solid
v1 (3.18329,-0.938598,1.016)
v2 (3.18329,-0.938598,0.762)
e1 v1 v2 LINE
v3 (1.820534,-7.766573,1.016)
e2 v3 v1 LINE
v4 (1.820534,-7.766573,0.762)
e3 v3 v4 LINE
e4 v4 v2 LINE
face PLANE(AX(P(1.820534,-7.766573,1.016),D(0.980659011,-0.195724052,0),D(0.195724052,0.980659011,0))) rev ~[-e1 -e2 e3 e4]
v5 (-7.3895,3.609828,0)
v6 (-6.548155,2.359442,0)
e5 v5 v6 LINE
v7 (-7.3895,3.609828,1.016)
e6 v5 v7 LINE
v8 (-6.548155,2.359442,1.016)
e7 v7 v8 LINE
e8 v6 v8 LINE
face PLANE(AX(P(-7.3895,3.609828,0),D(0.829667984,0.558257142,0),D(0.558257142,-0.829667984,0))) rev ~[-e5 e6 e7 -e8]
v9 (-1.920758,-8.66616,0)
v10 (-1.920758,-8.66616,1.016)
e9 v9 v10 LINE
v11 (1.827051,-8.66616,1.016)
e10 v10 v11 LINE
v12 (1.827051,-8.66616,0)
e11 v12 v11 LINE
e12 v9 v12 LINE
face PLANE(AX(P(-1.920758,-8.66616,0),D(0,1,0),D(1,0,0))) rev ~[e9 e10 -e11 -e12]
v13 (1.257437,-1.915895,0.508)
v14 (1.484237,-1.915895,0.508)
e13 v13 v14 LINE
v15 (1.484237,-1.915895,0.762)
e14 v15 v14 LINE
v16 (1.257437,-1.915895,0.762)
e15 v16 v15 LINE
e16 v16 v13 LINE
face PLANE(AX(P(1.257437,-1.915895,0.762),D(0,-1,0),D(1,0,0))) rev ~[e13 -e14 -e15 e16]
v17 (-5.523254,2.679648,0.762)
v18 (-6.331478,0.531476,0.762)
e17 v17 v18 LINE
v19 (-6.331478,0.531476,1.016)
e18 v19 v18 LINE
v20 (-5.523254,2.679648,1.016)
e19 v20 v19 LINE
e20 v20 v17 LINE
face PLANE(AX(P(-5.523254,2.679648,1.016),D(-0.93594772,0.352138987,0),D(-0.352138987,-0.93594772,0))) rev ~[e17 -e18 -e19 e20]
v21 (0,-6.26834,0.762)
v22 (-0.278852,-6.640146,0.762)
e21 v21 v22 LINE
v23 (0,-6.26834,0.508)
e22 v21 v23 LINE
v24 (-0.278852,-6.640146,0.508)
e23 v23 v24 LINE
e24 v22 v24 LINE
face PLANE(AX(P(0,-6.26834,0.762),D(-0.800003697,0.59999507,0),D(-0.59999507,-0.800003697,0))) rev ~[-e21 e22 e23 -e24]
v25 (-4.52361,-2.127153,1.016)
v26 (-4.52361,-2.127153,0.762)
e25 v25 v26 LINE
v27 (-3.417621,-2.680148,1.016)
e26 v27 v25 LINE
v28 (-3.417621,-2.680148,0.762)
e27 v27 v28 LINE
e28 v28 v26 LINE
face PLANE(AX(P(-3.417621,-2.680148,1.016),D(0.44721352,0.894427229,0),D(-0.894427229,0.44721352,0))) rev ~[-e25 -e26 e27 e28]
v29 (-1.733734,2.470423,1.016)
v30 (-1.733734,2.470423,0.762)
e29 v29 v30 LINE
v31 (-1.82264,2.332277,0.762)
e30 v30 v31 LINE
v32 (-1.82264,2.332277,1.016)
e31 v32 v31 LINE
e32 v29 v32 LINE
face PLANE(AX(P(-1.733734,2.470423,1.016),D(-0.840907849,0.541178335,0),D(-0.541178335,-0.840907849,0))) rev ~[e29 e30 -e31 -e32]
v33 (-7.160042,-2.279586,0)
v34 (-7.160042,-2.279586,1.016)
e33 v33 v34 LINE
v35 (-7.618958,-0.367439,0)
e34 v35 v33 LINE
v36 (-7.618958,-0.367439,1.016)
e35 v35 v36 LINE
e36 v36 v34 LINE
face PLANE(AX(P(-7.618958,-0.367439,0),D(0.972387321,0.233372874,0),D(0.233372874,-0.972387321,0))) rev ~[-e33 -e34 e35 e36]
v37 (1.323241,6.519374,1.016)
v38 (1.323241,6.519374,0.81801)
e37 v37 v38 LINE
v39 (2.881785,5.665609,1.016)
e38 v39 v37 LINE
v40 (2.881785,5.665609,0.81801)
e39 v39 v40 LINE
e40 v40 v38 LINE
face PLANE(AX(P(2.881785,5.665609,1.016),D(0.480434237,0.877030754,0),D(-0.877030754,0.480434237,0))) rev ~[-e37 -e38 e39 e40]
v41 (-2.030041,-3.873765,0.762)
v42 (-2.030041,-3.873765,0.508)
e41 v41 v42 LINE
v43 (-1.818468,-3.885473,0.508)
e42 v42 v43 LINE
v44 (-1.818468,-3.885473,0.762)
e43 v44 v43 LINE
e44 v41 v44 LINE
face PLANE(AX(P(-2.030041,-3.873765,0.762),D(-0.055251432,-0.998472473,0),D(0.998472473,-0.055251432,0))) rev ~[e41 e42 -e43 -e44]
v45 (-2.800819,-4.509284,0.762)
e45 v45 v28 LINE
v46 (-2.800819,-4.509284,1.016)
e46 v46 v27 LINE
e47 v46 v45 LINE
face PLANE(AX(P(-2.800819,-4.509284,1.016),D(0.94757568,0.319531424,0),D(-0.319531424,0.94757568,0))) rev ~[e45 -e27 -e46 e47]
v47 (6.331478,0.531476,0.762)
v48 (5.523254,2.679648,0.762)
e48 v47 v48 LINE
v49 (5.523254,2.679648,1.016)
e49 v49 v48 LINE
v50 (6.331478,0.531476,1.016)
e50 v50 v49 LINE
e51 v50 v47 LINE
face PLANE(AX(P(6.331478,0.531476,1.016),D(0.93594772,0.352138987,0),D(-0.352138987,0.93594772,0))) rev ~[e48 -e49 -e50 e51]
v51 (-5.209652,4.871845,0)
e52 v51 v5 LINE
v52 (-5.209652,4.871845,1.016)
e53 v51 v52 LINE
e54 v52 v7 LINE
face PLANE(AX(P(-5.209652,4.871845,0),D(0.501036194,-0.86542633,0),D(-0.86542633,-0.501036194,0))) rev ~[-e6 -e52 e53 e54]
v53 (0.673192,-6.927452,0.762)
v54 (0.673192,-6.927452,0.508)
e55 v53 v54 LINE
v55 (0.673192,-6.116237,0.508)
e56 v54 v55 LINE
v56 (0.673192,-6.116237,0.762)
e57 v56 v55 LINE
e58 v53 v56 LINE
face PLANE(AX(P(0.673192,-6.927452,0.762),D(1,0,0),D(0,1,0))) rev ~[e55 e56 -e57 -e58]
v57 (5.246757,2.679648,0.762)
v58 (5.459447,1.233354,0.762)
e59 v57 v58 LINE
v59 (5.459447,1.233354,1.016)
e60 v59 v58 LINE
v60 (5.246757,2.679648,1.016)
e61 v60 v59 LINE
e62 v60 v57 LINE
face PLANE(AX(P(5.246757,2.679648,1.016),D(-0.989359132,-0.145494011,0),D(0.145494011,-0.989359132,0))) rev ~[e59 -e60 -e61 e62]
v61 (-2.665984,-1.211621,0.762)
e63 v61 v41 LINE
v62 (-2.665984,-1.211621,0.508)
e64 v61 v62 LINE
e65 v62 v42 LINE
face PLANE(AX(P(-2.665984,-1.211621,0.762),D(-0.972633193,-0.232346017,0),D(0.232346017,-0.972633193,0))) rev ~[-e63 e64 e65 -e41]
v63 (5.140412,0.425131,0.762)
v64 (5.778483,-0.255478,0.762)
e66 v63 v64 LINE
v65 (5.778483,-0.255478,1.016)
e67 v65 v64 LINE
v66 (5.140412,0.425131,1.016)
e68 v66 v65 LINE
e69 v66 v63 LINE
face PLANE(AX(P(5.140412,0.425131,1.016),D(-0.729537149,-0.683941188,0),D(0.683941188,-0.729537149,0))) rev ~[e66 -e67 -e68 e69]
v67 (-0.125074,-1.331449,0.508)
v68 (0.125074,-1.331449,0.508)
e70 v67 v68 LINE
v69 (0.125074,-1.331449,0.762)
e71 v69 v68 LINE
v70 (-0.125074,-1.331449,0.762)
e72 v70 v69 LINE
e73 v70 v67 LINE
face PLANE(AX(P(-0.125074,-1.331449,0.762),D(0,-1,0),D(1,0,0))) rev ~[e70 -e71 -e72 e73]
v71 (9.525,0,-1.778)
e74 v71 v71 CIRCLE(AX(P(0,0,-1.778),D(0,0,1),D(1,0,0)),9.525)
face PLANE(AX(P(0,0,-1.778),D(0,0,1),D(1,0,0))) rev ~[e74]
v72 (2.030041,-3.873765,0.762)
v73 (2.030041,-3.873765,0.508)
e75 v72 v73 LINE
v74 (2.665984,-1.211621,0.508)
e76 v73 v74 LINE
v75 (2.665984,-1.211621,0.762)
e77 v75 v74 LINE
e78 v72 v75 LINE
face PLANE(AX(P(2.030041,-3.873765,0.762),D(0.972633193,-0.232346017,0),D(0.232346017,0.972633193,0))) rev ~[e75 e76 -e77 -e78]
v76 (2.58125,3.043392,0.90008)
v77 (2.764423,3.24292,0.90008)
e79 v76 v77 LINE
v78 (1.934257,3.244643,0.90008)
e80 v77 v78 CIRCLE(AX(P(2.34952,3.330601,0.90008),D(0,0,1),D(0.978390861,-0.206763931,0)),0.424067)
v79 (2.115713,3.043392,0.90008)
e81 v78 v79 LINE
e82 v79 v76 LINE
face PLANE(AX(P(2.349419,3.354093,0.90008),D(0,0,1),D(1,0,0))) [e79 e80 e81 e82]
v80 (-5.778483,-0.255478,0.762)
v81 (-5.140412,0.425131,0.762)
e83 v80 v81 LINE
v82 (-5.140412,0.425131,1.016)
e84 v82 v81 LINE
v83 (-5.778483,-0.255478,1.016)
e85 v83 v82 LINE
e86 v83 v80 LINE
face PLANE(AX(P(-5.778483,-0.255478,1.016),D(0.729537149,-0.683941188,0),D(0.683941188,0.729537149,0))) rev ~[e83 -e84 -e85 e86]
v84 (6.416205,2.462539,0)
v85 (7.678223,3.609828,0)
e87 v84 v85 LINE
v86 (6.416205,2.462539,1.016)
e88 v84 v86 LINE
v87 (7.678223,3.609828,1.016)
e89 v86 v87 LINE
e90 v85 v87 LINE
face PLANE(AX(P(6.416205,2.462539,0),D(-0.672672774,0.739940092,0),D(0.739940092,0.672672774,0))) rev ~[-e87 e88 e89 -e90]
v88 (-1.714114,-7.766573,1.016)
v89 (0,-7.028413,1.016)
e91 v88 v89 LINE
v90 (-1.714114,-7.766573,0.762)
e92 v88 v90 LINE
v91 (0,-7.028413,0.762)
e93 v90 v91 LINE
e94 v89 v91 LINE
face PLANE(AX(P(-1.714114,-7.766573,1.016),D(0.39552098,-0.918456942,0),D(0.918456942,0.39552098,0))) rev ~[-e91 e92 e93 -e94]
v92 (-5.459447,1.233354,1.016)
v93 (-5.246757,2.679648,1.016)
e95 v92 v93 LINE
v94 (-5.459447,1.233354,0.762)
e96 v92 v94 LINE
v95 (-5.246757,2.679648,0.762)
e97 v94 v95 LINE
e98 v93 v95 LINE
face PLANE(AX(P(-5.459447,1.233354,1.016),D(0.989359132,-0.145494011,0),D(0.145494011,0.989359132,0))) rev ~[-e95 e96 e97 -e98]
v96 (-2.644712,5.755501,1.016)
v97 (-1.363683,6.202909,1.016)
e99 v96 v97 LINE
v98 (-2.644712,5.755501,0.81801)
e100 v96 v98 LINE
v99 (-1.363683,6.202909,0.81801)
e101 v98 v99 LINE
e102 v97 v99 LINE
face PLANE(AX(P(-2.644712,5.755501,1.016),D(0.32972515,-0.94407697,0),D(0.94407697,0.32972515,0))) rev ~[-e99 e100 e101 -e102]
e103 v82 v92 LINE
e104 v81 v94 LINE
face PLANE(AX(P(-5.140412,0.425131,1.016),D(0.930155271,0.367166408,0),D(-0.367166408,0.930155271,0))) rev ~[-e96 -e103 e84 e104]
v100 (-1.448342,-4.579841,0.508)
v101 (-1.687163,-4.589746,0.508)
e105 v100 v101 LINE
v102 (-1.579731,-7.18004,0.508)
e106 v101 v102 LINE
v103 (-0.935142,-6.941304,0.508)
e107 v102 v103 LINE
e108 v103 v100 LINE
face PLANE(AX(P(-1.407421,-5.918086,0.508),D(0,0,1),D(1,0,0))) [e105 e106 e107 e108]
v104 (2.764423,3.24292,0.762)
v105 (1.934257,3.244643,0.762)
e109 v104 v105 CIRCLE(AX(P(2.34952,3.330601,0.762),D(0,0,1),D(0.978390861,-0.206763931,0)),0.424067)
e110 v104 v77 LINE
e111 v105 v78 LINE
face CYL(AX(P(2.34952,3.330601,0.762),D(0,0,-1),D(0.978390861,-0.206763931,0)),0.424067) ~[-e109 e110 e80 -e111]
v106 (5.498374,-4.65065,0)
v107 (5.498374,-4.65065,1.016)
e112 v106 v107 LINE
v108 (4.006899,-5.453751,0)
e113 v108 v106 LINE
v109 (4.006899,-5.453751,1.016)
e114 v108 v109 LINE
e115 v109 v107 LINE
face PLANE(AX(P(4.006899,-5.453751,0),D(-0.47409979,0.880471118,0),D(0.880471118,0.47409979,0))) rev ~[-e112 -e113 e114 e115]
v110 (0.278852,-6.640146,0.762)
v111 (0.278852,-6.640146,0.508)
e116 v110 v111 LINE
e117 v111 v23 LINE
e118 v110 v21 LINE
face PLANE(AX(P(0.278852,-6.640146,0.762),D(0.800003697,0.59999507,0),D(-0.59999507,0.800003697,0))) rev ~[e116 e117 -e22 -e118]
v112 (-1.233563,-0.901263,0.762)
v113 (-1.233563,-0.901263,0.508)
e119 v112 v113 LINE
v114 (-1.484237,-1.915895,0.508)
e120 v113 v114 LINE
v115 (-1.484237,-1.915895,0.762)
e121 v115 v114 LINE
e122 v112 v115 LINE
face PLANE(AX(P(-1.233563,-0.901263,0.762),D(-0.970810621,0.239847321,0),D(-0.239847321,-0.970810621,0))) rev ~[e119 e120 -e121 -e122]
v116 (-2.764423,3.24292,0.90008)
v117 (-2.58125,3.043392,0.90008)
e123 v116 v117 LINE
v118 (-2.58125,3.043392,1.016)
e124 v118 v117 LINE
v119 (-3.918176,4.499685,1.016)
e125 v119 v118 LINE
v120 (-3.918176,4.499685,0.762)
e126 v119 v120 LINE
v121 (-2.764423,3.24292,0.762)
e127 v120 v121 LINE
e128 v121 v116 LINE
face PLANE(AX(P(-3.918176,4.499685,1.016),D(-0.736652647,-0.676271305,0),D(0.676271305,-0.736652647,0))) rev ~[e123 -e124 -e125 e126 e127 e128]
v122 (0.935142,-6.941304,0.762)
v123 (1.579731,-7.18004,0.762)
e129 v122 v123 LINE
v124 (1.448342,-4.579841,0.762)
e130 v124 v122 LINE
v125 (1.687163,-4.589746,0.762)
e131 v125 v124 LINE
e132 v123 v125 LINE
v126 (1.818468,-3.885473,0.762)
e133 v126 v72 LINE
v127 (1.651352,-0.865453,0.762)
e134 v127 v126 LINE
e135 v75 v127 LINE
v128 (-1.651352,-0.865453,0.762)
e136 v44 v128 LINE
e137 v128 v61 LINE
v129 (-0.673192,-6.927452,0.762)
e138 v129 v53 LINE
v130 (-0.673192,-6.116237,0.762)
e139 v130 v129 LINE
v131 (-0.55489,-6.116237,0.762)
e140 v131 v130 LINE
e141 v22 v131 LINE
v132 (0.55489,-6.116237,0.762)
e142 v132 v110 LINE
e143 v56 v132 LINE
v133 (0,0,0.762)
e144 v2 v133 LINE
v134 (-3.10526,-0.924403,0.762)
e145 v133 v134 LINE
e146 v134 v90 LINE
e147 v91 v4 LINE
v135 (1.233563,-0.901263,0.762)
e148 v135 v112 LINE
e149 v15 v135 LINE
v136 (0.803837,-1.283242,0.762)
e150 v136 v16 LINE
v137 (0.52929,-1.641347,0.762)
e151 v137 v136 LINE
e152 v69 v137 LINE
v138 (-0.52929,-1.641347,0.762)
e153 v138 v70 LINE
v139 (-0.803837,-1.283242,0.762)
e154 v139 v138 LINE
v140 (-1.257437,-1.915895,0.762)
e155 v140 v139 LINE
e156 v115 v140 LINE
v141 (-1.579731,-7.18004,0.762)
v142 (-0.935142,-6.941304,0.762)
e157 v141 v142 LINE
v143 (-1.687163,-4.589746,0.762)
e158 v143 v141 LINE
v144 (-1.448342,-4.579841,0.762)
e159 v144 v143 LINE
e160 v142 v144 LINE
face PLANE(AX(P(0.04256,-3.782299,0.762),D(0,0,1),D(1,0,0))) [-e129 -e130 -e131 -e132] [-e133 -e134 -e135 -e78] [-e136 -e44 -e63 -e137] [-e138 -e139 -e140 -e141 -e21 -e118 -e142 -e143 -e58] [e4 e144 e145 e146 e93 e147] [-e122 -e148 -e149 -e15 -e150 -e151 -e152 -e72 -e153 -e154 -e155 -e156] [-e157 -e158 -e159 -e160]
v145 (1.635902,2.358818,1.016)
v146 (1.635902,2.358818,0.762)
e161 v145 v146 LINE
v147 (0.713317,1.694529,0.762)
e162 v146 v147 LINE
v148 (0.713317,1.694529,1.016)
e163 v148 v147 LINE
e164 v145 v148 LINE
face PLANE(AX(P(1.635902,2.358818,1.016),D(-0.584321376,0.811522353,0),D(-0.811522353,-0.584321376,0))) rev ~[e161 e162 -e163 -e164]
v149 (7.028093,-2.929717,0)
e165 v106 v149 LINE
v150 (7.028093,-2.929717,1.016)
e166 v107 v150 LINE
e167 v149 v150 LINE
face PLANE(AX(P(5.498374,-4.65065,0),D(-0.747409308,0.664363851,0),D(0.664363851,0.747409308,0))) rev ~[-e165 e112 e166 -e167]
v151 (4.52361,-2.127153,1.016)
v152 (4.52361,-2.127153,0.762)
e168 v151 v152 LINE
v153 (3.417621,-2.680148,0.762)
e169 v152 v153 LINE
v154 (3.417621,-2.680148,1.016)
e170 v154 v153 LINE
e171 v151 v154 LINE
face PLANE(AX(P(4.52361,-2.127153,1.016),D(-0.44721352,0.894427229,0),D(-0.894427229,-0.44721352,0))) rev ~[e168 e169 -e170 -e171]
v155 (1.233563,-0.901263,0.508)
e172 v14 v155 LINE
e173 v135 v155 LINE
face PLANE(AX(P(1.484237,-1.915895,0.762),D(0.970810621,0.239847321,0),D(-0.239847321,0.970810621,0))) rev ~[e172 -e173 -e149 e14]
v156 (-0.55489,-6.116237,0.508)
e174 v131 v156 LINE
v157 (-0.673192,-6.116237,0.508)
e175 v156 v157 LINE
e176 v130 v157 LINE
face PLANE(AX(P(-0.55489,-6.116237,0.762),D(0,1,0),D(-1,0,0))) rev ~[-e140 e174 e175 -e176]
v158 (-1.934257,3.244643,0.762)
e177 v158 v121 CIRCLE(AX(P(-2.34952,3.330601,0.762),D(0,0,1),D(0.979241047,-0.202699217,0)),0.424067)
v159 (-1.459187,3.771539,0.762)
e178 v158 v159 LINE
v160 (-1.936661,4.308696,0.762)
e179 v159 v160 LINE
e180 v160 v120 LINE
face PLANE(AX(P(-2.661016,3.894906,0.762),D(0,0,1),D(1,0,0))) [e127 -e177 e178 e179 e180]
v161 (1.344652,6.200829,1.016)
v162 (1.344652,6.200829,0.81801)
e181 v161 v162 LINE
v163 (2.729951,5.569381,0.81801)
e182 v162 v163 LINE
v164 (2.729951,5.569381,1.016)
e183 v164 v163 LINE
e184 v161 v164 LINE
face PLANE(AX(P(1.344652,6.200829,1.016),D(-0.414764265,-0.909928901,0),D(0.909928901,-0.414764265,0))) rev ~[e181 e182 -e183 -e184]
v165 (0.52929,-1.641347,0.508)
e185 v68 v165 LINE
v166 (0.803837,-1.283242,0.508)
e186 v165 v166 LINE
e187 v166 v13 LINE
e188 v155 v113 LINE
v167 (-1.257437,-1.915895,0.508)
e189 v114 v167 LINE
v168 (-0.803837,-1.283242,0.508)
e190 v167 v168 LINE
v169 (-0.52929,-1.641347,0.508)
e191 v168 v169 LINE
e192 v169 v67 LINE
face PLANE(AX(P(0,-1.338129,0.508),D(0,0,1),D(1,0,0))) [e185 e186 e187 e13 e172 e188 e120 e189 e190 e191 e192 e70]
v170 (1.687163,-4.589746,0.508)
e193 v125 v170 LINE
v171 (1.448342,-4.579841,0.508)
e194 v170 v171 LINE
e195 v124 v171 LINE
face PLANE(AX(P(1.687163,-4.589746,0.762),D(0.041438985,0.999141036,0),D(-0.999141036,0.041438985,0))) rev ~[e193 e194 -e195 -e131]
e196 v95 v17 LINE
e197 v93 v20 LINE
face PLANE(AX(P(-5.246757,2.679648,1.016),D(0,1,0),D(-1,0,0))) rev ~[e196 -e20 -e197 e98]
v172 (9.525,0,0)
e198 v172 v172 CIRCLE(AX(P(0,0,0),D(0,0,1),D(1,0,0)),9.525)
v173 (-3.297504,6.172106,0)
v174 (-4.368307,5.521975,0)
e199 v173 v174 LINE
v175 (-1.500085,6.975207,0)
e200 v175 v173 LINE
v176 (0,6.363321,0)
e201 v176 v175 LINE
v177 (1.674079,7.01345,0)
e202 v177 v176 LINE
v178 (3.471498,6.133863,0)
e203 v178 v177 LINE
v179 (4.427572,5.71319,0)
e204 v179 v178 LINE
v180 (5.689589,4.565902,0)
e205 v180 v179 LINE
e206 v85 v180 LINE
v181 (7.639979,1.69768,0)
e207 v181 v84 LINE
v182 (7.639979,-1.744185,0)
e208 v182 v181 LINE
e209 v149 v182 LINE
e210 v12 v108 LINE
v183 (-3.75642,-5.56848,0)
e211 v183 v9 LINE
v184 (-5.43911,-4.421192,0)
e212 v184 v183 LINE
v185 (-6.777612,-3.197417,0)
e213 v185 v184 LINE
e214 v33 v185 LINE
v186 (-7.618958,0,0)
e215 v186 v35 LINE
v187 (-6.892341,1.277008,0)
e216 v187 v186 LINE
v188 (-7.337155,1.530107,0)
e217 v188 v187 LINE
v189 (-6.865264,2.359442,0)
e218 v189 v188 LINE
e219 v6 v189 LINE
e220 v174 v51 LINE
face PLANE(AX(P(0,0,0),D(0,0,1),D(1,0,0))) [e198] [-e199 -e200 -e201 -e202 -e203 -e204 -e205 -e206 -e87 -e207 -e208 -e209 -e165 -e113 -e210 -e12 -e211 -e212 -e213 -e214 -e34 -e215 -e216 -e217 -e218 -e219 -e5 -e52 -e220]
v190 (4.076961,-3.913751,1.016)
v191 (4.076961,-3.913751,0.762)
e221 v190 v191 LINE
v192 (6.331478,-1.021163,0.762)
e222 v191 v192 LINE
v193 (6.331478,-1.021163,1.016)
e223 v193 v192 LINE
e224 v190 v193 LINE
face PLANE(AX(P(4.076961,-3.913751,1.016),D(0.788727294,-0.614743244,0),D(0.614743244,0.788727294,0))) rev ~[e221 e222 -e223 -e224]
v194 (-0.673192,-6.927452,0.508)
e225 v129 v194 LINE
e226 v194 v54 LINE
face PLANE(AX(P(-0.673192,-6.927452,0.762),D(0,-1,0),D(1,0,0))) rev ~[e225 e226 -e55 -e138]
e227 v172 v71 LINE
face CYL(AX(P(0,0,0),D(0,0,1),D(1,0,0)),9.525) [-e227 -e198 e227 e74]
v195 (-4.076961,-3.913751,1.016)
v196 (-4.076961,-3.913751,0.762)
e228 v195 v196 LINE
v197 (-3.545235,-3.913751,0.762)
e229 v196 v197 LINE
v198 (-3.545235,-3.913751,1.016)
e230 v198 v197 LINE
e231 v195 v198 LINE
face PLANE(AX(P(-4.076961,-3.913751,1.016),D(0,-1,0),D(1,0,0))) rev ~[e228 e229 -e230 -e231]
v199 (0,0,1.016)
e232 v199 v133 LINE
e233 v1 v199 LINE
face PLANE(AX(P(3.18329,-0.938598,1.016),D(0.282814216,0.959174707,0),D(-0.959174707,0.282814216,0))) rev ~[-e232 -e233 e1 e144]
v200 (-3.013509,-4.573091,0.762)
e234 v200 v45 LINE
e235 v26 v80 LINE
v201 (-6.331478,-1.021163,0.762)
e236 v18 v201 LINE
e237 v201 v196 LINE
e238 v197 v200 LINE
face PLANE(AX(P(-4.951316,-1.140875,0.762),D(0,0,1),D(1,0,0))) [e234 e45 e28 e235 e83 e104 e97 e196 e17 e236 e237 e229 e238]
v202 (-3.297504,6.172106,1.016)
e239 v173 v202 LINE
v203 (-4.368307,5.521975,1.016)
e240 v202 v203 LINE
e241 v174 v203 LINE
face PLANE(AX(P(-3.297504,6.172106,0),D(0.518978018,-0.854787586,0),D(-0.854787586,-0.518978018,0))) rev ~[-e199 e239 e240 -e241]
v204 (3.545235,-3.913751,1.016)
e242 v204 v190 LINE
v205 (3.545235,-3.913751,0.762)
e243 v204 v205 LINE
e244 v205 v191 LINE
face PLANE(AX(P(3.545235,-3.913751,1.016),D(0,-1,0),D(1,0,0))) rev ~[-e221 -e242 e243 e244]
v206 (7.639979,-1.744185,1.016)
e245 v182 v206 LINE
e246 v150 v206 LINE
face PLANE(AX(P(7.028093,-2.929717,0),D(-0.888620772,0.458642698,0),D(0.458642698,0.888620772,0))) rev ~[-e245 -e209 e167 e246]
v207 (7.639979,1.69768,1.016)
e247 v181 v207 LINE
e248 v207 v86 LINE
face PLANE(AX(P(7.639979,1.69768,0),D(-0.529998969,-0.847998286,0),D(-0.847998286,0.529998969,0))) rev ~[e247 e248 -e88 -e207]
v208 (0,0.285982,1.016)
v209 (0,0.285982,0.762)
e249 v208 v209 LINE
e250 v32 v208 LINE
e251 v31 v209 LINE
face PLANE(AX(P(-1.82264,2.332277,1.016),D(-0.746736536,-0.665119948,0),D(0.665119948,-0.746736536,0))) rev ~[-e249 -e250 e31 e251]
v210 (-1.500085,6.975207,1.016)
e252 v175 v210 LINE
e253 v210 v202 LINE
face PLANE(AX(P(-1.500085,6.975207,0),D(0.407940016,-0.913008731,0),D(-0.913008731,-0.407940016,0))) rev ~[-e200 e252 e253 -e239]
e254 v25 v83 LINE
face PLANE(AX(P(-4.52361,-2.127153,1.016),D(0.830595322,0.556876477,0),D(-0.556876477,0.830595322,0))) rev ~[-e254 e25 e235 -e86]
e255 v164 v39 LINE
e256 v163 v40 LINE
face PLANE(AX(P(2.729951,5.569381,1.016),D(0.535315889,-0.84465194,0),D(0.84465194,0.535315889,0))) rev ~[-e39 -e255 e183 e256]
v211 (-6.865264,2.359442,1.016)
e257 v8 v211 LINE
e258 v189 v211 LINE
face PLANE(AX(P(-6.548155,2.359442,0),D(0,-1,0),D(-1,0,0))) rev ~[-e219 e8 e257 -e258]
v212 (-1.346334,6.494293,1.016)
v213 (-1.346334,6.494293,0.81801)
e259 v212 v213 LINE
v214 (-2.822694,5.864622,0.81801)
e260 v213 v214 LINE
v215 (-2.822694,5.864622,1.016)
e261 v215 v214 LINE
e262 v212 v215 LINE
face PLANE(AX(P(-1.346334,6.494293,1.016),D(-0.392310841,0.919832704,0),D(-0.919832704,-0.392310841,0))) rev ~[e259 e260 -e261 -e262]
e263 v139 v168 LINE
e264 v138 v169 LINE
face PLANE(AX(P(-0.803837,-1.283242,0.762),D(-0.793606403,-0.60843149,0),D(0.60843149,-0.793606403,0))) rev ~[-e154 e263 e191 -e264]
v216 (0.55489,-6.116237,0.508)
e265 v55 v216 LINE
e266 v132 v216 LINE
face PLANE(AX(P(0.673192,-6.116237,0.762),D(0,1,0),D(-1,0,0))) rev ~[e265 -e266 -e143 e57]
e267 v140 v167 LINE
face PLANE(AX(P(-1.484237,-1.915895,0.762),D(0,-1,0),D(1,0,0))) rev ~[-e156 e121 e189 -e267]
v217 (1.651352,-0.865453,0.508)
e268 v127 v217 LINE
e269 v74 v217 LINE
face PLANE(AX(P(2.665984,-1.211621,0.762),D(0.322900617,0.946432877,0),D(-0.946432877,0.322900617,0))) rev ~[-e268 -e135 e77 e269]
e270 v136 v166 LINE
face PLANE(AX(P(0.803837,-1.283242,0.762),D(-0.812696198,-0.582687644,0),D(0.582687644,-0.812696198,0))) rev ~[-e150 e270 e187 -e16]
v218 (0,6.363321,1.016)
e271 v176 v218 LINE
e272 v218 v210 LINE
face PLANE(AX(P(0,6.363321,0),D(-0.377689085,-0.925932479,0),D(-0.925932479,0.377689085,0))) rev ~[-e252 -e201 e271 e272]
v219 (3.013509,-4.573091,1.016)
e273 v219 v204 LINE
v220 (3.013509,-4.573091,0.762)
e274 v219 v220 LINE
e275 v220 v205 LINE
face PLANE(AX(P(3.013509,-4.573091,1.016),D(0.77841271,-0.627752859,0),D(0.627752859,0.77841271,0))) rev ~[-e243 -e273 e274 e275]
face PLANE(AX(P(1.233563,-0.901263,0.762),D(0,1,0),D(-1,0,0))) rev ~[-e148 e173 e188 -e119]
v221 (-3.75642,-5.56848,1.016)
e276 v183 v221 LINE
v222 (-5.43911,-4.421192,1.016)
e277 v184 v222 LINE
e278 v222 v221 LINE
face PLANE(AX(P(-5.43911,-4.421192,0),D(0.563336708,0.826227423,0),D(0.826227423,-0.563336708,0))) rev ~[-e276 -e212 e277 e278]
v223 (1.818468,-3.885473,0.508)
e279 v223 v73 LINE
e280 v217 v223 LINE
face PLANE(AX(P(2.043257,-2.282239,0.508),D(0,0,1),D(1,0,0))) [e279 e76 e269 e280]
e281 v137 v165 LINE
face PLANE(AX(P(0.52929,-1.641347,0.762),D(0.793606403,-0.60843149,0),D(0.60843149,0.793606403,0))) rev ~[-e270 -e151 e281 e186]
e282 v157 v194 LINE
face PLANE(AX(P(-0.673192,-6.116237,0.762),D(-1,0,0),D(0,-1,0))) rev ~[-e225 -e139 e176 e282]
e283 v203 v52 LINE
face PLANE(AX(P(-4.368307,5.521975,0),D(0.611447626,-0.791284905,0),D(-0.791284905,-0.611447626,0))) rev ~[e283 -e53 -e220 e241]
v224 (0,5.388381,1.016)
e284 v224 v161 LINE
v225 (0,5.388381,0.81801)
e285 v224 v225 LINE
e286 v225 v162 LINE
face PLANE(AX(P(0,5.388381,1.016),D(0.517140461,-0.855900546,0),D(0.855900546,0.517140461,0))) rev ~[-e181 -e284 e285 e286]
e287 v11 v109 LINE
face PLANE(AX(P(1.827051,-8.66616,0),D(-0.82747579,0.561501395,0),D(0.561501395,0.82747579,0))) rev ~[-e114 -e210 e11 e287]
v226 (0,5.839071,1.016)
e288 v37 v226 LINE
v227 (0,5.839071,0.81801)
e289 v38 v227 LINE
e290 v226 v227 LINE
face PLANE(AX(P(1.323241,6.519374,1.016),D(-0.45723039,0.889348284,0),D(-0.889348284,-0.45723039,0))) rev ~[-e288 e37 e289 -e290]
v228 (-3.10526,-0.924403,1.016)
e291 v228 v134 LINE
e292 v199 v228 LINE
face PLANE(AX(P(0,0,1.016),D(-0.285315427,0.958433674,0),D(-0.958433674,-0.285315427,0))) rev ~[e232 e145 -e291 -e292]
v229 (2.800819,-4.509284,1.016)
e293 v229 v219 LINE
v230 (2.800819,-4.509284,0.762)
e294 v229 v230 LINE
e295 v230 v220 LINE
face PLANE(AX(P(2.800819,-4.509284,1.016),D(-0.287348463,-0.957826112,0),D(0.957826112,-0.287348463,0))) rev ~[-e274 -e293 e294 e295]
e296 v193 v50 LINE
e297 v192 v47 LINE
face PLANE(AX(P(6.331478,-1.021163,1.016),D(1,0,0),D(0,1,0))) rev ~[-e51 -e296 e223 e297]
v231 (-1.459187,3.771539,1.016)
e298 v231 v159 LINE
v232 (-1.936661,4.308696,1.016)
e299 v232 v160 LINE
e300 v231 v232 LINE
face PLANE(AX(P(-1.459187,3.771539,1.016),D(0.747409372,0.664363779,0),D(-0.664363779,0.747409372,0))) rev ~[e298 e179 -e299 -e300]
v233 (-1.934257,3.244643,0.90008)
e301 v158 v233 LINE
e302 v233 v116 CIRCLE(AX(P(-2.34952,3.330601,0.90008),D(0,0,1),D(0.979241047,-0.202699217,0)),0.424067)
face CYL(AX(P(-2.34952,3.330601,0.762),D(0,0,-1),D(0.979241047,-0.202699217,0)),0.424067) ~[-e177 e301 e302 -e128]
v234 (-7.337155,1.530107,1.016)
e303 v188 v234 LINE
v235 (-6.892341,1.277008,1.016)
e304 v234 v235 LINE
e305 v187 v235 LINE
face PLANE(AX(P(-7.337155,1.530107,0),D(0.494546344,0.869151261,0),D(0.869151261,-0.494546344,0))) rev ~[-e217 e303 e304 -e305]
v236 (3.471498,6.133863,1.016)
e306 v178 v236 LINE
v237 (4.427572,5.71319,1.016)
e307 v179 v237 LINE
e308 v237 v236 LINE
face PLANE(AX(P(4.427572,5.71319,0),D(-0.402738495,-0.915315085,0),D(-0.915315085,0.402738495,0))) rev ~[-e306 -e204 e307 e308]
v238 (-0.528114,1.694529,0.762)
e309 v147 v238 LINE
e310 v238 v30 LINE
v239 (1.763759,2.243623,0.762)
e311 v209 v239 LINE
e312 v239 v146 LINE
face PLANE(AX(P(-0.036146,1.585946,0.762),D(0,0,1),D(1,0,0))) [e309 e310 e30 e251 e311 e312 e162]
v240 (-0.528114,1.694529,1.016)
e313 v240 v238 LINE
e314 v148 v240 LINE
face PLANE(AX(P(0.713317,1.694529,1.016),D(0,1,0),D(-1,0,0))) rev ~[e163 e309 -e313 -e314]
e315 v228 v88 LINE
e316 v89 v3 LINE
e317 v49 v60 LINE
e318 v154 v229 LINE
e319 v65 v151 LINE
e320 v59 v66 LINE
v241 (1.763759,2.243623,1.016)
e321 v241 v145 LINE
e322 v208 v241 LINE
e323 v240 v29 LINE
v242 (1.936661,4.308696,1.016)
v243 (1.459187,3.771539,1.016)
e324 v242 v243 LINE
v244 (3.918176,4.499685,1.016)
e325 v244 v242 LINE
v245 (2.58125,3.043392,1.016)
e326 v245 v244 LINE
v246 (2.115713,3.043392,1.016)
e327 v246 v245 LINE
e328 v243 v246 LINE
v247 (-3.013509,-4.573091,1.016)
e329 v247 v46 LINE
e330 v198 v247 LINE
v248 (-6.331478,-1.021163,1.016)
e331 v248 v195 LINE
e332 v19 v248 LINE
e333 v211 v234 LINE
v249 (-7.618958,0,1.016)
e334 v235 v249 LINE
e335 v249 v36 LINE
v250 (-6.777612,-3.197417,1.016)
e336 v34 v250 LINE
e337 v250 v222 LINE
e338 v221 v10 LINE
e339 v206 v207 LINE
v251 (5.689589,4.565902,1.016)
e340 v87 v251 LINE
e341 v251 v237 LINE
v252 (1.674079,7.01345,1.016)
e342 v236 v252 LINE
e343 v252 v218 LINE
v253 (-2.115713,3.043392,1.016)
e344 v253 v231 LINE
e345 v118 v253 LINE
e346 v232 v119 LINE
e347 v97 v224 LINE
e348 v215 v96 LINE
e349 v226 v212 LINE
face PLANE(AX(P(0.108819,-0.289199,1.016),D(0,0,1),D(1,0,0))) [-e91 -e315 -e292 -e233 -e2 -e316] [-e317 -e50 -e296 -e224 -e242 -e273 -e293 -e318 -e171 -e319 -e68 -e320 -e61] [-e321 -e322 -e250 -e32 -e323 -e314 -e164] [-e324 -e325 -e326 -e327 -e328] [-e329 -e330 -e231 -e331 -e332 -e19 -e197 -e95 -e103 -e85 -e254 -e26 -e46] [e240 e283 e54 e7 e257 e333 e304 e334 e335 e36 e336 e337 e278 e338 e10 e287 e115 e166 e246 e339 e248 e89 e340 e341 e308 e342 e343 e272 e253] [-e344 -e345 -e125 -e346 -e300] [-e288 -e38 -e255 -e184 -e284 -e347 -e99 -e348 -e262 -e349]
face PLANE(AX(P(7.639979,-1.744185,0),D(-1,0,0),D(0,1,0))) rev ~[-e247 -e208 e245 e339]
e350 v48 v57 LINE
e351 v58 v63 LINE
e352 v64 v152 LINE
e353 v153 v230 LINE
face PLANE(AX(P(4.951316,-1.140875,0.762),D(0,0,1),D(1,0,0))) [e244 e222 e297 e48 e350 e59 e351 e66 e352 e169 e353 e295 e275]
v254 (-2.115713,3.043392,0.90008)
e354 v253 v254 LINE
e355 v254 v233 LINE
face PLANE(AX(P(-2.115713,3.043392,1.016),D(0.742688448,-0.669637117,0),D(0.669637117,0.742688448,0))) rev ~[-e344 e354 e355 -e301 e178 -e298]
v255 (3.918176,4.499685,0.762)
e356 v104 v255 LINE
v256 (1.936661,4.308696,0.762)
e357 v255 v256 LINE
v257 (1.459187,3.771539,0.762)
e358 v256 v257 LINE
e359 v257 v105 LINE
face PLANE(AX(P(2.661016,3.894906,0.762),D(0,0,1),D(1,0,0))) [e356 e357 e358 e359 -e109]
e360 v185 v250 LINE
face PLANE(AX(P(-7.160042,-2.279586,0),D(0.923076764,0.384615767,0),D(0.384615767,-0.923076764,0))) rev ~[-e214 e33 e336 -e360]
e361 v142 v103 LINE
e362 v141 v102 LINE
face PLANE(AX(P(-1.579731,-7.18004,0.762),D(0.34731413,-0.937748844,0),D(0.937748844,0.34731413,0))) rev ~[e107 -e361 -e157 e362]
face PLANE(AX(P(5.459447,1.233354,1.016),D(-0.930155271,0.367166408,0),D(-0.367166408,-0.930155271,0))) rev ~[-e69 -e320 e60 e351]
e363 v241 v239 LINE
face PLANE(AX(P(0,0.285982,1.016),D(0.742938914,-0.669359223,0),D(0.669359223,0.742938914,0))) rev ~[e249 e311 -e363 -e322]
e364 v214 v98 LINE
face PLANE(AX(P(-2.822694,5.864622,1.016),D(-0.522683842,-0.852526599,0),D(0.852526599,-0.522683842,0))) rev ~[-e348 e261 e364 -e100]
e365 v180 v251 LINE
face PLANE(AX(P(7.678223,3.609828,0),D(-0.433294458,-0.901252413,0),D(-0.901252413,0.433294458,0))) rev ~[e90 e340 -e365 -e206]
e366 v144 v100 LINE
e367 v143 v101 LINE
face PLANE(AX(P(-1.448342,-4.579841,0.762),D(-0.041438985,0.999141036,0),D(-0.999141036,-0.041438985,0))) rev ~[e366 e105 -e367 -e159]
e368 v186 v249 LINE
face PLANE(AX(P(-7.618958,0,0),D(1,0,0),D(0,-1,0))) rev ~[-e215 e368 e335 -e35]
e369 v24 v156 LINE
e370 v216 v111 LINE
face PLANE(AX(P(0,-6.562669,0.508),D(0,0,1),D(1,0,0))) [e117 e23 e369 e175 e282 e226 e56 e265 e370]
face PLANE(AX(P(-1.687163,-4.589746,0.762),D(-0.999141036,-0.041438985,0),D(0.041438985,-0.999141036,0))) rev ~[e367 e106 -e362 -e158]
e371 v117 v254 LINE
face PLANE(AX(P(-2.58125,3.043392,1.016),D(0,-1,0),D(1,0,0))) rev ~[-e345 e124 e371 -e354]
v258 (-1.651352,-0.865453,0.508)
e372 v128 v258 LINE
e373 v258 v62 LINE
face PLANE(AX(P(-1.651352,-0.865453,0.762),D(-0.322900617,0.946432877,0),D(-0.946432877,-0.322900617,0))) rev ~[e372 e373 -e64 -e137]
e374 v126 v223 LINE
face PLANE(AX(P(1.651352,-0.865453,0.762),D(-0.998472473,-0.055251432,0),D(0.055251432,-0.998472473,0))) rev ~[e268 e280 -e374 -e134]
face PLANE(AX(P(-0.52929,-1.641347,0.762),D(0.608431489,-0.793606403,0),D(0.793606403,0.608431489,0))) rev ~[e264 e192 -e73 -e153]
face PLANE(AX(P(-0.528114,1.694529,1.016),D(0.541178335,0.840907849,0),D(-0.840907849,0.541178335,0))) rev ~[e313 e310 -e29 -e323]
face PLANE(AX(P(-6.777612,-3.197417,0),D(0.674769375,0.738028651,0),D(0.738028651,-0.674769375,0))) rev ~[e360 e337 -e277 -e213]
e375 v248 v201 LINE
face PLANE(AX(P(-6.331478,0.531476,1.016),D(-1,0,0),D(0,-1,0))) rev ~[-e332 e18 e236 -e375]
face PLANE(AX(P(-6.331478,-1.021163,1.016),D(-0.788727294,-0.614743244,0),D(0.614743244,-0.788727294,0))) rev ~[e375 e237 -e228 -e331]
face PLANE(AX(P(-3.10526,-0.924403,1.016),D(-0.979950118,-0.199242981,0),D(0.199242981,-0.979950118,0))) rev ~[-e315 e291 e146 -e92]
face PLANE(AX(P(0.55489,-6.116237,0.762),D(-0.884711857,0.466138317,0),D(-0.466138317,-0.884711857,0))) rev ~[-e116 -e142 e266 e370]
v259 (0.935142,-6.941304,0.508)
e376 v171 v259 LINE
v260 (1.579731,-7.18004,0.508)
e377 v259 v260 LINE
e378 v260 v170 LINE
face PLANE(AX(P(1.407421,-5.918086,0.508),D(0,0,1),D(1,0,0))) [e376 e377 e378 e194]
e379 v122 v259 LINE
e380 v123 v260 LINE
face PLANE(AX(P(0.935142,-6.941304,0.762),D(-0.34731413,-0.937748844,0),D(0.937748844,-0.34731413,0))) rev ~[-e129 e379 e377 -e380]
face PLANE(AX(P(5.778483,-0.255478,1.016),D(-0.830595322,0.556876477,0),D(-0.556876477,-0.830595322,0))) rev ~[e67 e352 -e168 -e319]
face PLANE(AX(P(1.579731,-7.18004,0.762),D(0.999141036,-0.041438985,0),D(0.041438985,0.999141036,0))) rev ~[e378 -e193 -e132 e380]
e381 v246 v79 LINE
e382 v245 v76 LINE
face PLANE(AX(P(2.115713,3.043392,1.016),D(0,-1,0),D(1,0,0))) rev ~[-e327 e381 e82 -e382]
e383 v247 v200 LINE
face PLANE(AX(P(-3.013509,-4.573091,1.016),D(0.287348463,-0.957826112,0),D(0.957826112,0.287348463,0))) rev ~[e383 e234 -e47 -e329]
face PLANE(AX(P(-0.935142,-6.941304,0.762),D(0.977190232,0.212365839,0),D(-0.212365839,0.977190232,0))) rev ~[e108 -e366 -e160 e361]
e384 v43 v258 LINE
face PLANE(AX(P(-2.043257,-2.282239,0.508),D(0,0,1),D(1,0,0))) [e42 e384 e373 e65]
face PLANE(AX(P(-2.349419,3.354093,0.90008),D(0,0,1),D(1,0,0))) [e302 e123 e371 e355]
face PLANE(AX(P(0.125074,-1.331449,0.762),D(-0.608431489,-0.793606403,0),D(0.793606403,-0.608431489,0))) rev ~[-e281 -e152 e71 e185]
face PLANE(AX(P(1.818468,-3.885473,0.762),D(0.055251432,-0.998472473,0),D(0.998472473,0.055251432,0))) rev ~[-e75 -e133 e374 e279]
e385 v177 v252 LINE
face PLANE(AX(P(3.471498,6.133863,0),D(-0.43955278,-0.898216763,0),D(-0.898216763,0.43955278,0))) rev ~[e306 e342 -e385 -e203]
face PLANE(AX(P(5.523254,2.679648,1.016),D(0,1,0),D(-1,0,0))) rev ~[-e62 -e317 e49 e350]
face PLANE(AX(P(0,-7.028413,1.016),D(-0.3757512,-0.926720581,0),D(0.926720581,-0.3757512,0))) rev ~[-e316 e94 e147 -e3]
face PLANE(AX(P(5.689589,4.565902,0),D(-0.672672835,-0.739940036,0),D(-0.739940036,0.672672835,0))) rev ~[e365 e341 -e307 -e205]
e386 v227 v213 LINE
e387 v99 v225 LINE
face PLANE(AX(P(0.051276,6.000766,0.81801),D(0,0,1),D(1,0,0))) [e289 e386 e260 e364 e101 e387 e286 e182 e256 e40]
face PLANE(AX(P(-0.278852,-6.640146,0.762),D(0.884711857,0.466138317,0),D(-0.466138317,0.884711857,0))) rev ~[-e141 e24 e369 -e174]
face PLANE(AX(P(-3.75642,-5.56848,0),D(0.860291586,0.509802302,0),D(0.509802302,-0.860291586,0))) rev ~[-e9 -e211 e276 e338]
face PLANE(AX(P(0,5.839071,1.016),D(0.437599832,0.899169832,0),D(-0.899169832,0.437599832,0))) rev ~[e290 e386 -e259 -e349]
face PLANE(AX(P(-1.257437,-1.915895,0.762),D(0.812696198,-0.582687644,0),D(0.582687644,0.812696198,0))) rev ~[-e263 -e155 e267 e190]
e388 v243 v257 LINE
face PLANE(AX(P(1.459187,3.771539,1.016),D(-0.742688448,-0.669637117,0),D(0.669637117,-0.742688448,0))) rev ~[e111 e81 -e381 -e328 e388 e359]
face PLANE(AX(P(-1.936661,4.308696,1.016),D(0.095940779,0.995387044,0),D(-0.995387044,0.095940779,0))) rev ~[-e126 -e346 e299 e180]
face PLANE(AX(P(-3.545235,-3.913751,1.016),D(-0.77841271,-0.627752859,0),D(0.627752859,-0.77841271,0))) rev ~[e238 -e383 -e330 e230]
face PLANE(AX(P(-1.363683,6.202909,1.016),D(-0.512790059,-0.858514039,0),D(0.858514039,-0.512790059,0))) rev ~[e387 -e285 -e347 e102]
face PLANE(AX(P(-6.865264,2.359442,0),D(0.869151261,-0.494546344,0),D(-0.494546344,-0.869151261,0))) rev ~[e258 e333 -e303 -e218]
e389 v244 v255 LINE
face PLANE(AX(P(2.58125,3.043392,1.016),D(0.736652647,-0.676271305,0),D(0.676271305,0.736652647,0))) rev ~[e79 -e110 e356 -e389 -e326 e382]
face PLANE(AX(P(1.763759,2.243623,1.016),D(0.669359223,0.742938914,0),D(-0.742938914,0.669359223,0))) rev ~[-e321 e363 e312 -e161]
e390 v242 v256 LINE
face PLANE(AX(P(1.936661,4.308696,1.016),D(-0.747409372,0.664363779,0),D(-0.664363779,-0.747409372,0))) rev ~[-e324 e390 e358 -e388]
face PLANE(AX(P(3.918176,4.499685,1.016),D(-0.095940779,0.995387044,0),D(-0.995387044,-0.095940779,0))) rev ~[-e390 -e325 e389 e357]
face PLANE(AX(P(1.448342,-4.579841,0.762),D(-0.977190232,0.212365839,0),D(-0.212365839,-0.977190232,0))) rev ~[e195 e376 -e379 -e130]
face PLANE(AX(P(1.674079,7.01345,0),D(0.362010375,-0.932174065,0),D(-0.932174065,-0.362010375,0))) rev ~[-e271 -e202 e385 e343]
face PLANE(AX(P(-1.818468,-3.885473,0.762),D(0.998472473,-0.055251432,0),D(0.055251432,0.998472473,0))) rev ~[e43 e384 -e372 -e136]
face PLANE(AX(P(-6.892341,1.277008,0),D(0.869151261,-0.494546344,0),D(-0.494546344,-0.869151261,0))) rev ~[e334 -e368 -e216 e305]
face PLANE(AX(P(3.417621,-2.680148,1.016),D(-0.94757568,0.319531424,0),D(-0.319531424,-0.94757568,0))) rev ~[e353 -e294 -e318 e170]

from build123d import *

# Parameters (mm, degrees)
F2_DEPTH  = 1.016
F0_R      = 9.525
F3_DEPTH  = 1.778
F5_DEPTH  = 0.73658
F8_DEPTH  = 0.19799
F10_DEPTH = 0.254
F12_DEPTH = 0.254
F14_DEPTH = 0.254
F16_DEPTH = 0.13808
F18_DEPTH = 0.254


with BuildPart() as f2:
    # F1 (on Top) → F2 (new body)
    with BuildSketch(Plane.XY):
        Polygon((-5.2096517757, 4.8718452454), (-7.3895002715, 3.6098279525), (-6.5481550992, 2.3594415264), (-6.86526423, 2.3594415264), (-7.3371550568, 1.5301066978), (-6.8923411891, 1.2770079775), (-7.6189576648, 0), (-7.6189576648, -0.3674388281), (-7.1600424126, -2.2795863915), (-6.7776124924, -3.1974171288), (-5.4391096346, -4.4211917557), (-3.7564195227, -5.5684801191), (-1.9207580481, -8.6661595851), (1.8270511646, -8.6661595851), (4.0068994276, -5.4537514225), (5.4983743466, -4.6506496146), (7.0280926302, -2.9297166038), (7.639979478, -1.7441851087), (7.639979478, -0.7116254419), (7.639979478, 0.3974201391), (7.639979478, 1.0475503514), (7.639979478, 1.6976804473), (6.4162053168, 2.4625393562), (7.6782228425, 3.6098279525), (5.6895888411, 4.5659020543), (4.427571781, 5.7131904177), (3.471497912, 6.1338627711), (1.6740793362, 7.0134503767), (0, 6.36332063), (-1.5000854619, 6.9752074778), (-3.2975040376, 6.17210567), (-4.3683070689, 5.5219754577), align=None)
    extrude(amount=F2_DEPTH)

    # F0 (on Top) → F3 (join)
    with BuildSketch(Plane.XY):
        Circle(F0_R)
    extrude(amount=-F3_DEPTH)

    # F7 (on face) → F8 (cut)
    with BuildSketch(Plane.XY.offset(1.016)):
        Polygon((-1.3463342329, 6.4942925237), (-2.822693903, 5.8646216057), (-2.6447118726, 5.755500868), (-1.3636830263, 6.2029086985), (0, 5.3883814253), (1.3446520315, 6.2008285895), (2.729951404, 5.569380708), (2.881785389, 5.6656086817), (1.3232411584, 6.5193735063), (0, 5.8390707709), align=None)
    extrude(amount=-F8_DEPTH, mode=Mode.SUBTRACT)

    # F9 (on face) → F10 (cut)
    with BuildSketch(Plane.XY.offset(1.016)):
        Polygon((-3.0135090929, -4.5730909333), (-2.8008187655, -4.5092836954), (-3.4176206682, -2.6801475324), (-4.5236102305, -2.1271528676), (-5.7784831151, -0.2554782841), (-5.1404121332, 0.4251306527), (-5.4594473913, 1.2333536288), (-5.246757064, 2.679647645), (-5.5232541636, 2.679647645), (-6.3314777799, 0.5314758164), (-6.3314777799, -1.0211633053), (-4.0769609623, -3.9137513377), (-3.545235144, -3.9137513377), align=None)
        Polygon((5.5232541636, 2.679647645), (5.246757064, 2.679647645), (5.4594473913, 1.2333536288), (5.1404121332, 0.4251306527), (5.7784831151, -0.2554782841), (4.5236102305, -2.1271528676), (3.4176206682, -2.6801475324), (2.8008187655, -4.5092836954), (3.0135090929, -4.5730909333), (3.545235144, -3.9137513377), (4.0769609623, -3.9137513377), (6.3314777799, -1.0211633053), (6.3314777799, 0.5314758164), align=None)
    extrude(amount=-F10_DEPTH, mode=Mode.SUBTRACT)

    # F11 (on face) → F12 (cut)
    with BuildSketch(Plane.XY.offset(1.016)):
        Polygon((0, 0), (-3.1052604318, -0.9244027315), (-1.7141137505, -7.7665727586), (0, -7.0284130052), (1.820534002, -7.7665727586), (3.1832898967, -0.938598183), align=None)
    extrude(amount=-F12_DEPTH, mode=Mode.SUBTRACT)

    # F13 (on face) → F14 (cut)
    with BuildSketch(Plane.XY.offset(1.016)):
        Polygon((-1.822640141, 2.3322773777), (0, 0.2859818342), (1.7637592973, 2.2436233703), (1.6359017026, 2.3588181173), (0.7133174804, 1.6945287352), (-0.5281137419, 1.6945287352), (-1.7337343888, 2.4704232346), align=None)
        Polygon((-2.1157131996, 3.043391509), (-1.4591871295, 3.7715386134), (-1.9366606139, 4.3086963706), (-3.9181755856, 4.4996854849), (-2.5812499225, 3.043391509), align=None)
        Polygon((1.4591871295, 3.7715386134), (2.1157131996, 3.043391509), (2.5812499225, 3.043391509), (3.9181755856, 4.4996854849), (1.9366606139, 4.3086963706), align=None)
    extrude(amount=-F14_DEPTH, mode=Mode.SUBTRACT)

    # F15 (on face) → F16 (join)
    with BuildSketch(Plane.XY.offset(0.762)):
        with BuildLine():
            Line((2.5812499225, 3.043391509), (2.7644233944, 3.2429197483))
            ThreePointArc((2.7644233944, 3.2429197483), (2.3504007339, 3.7546674576), (1.9342565257, 3.2446434588))
            Line((1.9342565257, 3.2446434588), (2.1157131996, 3.043391509))
            Line((2.1157131996, 3.043391509), (2.5812499225, 3.043391509))
        make_face()
        with BuildLine():
            Line((-2.7644233944, 3.2429197483), (-2.5812499225, 3.043391509))
            Line((-2.5812499225, 3.043391509), (-2.1157131996, 3.043391509))
            Line((-2.1157131996, 3.043391509), (-1.9342565257, 3.2446434588))
            ThreePointArc((-1.9342565257, 3.2446434588), (-2.3504007339, 3.7546674576), (-2.7644233944, 3.2429197483))
        make_face()
    extrude(amount=F16_DEPTH)

    # F17 (on face) → F18 (cut)
    with BuildSketch(Plane.XY.offset(0.762)):
        Polygon((-1.6513522714, -0.8654528065), (-2.665983513, -1.2116211001), (-2.0300412055, -3.8737652845), (-1.8184679793, -3.8854728919), align=None)
        Polygon((-1.5797313536, -7.1800402366), (-0.9351419867, -6.9413036108), (-1.4483418965, -4.579841237), (-1.6871627886, -4.5897462405), align=None)
        Polygon((1.5797313536, -7.1800402366), (1.6871627886, -4.5897462405), (1.4483418965, -4.579841237), (0.9351419867, -6.9413036108), align=None)
        Polygon((1.6513522714, -0.8654528065), (1.8184679793, -3.8854728919), (2.0300412055, -3.8737652845), (2.665983513, -1.2116211001), align=None)
        Polygon((0.1592475164, -0.9012632072), (-0.1592475164, -0.9012632072), (-1.2335629435, -0.9012632072), (-1.4842365636, -1.9158945652), (-1.2574365828, -1.9158945652), (-0.803836796, -1.283242018), (-0.5292895366, -1.6413471894), (-0.1250742725, -1.3314488641), (0.1250742725, -1.3314488641), (0.5292895366, -1.6413471894), (0.803836796, -1.283242018), (1.2574365828, -1.9158945652), (1.4842365636, -1.9158945652), (1.2335629435, -0.9012632072), align=None)
        Polygon((-0.6731920876, -6.11623656), (-0.6731920876, -6.9274515845), (-0.1211152558, -6.9274515845), (0.1211152558, -6.9274515845), (0.6731920876, -6.9274515845), (0.6731920876, -6.11623656), (0.5548899644, -6.11623656), (0.2788515121, -6.6401464865), (0, -6.2683396973), (-0.2788515121, -6.6401464865), (-0.5548899644, -6.11623656), align=None)
    extrude(amount=-F18_DEPTH, mode=Mode.SUBTRACT)


with BuildPart() as f5:
    # F4 (on face) → F5 (new body)
    with BuildSketch(Plane.XY.offset(1.016)):
        Polygon((17.713438698, 4.5463088655), (15.3496832919, 3.1778191726), (16.2620100905, 1.8219416059), (15.9181474671, 1.8219416059), (15.4064447065, 0.9226384258), (15.8887861108, 0.6481865685), (15.1008673055, -0.7365585255), (15.1008673055, -1.1349970032), (15.5984997833, -3.2084663974), (16.013194104, -4.2037316056), (17.4646222066, -5.5307522199), (19.2892755512, -6.7748336671), (21.2798059676, -10.1338545338), (25.3438059676, -10.1338545338), (27.7075611212, -6.6504256738), (29.324867053, -5.7795687113), (30.9836428208, -3.9134460356), (31.647152623, -2.6278950049), (31.647152623, -1.508221551), (31.647152623, -0.3056093086), (31.647152623, 0.3993703296), (31.647152623, 1.1043498415), (30.3201325137, 1.933737473), (31.688622459, 3.1778191726), (29.5322137084, 4.2145542169), (28.163724268, 5.458635664), (27.1269894762, 5.9147988108), (25.1779283908, 6.8685944355), (23.3626122858, 6.1636153022), (21.7359693669, 6.8271251044), (19.7869082815, 5.9562681419), (18.6257649916, 5.2512885037), align=None)
        Polygon((18.439305509, 1.7165624937), (18.4358818544, 1.7216506446), (19.9132289832, 2.5769567026), (20.4834329167, 3.0175689765), (21.2091474729, 3.4581812504), (22.4273106513, 4.0024668519), (23.4439624756, 3.5877732256), (23.4679646927, 3.5970945015), (25.3034550697, 4.8505836166), (25.7937528554, 3.4337042665), (25.7966982196, 3.4322629184), (26.4446574645, 3.1471609517), (27.2999633647, 2.3696100472), (28.6477188339, 1.7216506446), (28.6426317994, 1.7170260681), (28.6477188339, 1.7145803783), (27.7970213842, 0.9412191032), (28.6218001864, 0.4257323126), (28.6218001864, 0.4186620463), (28.6218001864, -0.5960899286), (28.6218001864, -0.6644358361), (28.6218001864, -1.0367022025), (28.6218001864, -1.1050481099), (28.6218001864, -1.7883348539), (28.6218001864, -1.8566807614), (28.6218001864, -1.9069207164), (28.6218001864, -1.9139909827), (28.20710656, -2.7174603769), (27.1703717051, -3.8837870492), (26.1595554977, -4.4280726508), (24.6822085267, -6.6052156882), (22.1422085267, -6.6052156882), (20.8981270165, -4.5058276465), (19.7577186761, -3.7282767421), (18.850576112, -2.8988888581), (18.5913921616, -2.276848103), (18.2803718629, -0.9809297316), (18.2803718629, -0.9738594653), (18.2803718629, -0.7319056831), (18.2803718629, -0.7248354168), (18.7697820642, 0.1352892187), (18.4713577386, 0.3050924115), (18.4743967906, 0.3104334598), (18.4713577386, 0.3121626778), (18.7911719639, 0.8742271654), (19.0013287467, 0.8742271654), (18.4358818544, 1.7145803783), align=None, mode=Mode.SUBTRACT)
    extrude(amount=F5_DEPTH)


solid = f2.part
